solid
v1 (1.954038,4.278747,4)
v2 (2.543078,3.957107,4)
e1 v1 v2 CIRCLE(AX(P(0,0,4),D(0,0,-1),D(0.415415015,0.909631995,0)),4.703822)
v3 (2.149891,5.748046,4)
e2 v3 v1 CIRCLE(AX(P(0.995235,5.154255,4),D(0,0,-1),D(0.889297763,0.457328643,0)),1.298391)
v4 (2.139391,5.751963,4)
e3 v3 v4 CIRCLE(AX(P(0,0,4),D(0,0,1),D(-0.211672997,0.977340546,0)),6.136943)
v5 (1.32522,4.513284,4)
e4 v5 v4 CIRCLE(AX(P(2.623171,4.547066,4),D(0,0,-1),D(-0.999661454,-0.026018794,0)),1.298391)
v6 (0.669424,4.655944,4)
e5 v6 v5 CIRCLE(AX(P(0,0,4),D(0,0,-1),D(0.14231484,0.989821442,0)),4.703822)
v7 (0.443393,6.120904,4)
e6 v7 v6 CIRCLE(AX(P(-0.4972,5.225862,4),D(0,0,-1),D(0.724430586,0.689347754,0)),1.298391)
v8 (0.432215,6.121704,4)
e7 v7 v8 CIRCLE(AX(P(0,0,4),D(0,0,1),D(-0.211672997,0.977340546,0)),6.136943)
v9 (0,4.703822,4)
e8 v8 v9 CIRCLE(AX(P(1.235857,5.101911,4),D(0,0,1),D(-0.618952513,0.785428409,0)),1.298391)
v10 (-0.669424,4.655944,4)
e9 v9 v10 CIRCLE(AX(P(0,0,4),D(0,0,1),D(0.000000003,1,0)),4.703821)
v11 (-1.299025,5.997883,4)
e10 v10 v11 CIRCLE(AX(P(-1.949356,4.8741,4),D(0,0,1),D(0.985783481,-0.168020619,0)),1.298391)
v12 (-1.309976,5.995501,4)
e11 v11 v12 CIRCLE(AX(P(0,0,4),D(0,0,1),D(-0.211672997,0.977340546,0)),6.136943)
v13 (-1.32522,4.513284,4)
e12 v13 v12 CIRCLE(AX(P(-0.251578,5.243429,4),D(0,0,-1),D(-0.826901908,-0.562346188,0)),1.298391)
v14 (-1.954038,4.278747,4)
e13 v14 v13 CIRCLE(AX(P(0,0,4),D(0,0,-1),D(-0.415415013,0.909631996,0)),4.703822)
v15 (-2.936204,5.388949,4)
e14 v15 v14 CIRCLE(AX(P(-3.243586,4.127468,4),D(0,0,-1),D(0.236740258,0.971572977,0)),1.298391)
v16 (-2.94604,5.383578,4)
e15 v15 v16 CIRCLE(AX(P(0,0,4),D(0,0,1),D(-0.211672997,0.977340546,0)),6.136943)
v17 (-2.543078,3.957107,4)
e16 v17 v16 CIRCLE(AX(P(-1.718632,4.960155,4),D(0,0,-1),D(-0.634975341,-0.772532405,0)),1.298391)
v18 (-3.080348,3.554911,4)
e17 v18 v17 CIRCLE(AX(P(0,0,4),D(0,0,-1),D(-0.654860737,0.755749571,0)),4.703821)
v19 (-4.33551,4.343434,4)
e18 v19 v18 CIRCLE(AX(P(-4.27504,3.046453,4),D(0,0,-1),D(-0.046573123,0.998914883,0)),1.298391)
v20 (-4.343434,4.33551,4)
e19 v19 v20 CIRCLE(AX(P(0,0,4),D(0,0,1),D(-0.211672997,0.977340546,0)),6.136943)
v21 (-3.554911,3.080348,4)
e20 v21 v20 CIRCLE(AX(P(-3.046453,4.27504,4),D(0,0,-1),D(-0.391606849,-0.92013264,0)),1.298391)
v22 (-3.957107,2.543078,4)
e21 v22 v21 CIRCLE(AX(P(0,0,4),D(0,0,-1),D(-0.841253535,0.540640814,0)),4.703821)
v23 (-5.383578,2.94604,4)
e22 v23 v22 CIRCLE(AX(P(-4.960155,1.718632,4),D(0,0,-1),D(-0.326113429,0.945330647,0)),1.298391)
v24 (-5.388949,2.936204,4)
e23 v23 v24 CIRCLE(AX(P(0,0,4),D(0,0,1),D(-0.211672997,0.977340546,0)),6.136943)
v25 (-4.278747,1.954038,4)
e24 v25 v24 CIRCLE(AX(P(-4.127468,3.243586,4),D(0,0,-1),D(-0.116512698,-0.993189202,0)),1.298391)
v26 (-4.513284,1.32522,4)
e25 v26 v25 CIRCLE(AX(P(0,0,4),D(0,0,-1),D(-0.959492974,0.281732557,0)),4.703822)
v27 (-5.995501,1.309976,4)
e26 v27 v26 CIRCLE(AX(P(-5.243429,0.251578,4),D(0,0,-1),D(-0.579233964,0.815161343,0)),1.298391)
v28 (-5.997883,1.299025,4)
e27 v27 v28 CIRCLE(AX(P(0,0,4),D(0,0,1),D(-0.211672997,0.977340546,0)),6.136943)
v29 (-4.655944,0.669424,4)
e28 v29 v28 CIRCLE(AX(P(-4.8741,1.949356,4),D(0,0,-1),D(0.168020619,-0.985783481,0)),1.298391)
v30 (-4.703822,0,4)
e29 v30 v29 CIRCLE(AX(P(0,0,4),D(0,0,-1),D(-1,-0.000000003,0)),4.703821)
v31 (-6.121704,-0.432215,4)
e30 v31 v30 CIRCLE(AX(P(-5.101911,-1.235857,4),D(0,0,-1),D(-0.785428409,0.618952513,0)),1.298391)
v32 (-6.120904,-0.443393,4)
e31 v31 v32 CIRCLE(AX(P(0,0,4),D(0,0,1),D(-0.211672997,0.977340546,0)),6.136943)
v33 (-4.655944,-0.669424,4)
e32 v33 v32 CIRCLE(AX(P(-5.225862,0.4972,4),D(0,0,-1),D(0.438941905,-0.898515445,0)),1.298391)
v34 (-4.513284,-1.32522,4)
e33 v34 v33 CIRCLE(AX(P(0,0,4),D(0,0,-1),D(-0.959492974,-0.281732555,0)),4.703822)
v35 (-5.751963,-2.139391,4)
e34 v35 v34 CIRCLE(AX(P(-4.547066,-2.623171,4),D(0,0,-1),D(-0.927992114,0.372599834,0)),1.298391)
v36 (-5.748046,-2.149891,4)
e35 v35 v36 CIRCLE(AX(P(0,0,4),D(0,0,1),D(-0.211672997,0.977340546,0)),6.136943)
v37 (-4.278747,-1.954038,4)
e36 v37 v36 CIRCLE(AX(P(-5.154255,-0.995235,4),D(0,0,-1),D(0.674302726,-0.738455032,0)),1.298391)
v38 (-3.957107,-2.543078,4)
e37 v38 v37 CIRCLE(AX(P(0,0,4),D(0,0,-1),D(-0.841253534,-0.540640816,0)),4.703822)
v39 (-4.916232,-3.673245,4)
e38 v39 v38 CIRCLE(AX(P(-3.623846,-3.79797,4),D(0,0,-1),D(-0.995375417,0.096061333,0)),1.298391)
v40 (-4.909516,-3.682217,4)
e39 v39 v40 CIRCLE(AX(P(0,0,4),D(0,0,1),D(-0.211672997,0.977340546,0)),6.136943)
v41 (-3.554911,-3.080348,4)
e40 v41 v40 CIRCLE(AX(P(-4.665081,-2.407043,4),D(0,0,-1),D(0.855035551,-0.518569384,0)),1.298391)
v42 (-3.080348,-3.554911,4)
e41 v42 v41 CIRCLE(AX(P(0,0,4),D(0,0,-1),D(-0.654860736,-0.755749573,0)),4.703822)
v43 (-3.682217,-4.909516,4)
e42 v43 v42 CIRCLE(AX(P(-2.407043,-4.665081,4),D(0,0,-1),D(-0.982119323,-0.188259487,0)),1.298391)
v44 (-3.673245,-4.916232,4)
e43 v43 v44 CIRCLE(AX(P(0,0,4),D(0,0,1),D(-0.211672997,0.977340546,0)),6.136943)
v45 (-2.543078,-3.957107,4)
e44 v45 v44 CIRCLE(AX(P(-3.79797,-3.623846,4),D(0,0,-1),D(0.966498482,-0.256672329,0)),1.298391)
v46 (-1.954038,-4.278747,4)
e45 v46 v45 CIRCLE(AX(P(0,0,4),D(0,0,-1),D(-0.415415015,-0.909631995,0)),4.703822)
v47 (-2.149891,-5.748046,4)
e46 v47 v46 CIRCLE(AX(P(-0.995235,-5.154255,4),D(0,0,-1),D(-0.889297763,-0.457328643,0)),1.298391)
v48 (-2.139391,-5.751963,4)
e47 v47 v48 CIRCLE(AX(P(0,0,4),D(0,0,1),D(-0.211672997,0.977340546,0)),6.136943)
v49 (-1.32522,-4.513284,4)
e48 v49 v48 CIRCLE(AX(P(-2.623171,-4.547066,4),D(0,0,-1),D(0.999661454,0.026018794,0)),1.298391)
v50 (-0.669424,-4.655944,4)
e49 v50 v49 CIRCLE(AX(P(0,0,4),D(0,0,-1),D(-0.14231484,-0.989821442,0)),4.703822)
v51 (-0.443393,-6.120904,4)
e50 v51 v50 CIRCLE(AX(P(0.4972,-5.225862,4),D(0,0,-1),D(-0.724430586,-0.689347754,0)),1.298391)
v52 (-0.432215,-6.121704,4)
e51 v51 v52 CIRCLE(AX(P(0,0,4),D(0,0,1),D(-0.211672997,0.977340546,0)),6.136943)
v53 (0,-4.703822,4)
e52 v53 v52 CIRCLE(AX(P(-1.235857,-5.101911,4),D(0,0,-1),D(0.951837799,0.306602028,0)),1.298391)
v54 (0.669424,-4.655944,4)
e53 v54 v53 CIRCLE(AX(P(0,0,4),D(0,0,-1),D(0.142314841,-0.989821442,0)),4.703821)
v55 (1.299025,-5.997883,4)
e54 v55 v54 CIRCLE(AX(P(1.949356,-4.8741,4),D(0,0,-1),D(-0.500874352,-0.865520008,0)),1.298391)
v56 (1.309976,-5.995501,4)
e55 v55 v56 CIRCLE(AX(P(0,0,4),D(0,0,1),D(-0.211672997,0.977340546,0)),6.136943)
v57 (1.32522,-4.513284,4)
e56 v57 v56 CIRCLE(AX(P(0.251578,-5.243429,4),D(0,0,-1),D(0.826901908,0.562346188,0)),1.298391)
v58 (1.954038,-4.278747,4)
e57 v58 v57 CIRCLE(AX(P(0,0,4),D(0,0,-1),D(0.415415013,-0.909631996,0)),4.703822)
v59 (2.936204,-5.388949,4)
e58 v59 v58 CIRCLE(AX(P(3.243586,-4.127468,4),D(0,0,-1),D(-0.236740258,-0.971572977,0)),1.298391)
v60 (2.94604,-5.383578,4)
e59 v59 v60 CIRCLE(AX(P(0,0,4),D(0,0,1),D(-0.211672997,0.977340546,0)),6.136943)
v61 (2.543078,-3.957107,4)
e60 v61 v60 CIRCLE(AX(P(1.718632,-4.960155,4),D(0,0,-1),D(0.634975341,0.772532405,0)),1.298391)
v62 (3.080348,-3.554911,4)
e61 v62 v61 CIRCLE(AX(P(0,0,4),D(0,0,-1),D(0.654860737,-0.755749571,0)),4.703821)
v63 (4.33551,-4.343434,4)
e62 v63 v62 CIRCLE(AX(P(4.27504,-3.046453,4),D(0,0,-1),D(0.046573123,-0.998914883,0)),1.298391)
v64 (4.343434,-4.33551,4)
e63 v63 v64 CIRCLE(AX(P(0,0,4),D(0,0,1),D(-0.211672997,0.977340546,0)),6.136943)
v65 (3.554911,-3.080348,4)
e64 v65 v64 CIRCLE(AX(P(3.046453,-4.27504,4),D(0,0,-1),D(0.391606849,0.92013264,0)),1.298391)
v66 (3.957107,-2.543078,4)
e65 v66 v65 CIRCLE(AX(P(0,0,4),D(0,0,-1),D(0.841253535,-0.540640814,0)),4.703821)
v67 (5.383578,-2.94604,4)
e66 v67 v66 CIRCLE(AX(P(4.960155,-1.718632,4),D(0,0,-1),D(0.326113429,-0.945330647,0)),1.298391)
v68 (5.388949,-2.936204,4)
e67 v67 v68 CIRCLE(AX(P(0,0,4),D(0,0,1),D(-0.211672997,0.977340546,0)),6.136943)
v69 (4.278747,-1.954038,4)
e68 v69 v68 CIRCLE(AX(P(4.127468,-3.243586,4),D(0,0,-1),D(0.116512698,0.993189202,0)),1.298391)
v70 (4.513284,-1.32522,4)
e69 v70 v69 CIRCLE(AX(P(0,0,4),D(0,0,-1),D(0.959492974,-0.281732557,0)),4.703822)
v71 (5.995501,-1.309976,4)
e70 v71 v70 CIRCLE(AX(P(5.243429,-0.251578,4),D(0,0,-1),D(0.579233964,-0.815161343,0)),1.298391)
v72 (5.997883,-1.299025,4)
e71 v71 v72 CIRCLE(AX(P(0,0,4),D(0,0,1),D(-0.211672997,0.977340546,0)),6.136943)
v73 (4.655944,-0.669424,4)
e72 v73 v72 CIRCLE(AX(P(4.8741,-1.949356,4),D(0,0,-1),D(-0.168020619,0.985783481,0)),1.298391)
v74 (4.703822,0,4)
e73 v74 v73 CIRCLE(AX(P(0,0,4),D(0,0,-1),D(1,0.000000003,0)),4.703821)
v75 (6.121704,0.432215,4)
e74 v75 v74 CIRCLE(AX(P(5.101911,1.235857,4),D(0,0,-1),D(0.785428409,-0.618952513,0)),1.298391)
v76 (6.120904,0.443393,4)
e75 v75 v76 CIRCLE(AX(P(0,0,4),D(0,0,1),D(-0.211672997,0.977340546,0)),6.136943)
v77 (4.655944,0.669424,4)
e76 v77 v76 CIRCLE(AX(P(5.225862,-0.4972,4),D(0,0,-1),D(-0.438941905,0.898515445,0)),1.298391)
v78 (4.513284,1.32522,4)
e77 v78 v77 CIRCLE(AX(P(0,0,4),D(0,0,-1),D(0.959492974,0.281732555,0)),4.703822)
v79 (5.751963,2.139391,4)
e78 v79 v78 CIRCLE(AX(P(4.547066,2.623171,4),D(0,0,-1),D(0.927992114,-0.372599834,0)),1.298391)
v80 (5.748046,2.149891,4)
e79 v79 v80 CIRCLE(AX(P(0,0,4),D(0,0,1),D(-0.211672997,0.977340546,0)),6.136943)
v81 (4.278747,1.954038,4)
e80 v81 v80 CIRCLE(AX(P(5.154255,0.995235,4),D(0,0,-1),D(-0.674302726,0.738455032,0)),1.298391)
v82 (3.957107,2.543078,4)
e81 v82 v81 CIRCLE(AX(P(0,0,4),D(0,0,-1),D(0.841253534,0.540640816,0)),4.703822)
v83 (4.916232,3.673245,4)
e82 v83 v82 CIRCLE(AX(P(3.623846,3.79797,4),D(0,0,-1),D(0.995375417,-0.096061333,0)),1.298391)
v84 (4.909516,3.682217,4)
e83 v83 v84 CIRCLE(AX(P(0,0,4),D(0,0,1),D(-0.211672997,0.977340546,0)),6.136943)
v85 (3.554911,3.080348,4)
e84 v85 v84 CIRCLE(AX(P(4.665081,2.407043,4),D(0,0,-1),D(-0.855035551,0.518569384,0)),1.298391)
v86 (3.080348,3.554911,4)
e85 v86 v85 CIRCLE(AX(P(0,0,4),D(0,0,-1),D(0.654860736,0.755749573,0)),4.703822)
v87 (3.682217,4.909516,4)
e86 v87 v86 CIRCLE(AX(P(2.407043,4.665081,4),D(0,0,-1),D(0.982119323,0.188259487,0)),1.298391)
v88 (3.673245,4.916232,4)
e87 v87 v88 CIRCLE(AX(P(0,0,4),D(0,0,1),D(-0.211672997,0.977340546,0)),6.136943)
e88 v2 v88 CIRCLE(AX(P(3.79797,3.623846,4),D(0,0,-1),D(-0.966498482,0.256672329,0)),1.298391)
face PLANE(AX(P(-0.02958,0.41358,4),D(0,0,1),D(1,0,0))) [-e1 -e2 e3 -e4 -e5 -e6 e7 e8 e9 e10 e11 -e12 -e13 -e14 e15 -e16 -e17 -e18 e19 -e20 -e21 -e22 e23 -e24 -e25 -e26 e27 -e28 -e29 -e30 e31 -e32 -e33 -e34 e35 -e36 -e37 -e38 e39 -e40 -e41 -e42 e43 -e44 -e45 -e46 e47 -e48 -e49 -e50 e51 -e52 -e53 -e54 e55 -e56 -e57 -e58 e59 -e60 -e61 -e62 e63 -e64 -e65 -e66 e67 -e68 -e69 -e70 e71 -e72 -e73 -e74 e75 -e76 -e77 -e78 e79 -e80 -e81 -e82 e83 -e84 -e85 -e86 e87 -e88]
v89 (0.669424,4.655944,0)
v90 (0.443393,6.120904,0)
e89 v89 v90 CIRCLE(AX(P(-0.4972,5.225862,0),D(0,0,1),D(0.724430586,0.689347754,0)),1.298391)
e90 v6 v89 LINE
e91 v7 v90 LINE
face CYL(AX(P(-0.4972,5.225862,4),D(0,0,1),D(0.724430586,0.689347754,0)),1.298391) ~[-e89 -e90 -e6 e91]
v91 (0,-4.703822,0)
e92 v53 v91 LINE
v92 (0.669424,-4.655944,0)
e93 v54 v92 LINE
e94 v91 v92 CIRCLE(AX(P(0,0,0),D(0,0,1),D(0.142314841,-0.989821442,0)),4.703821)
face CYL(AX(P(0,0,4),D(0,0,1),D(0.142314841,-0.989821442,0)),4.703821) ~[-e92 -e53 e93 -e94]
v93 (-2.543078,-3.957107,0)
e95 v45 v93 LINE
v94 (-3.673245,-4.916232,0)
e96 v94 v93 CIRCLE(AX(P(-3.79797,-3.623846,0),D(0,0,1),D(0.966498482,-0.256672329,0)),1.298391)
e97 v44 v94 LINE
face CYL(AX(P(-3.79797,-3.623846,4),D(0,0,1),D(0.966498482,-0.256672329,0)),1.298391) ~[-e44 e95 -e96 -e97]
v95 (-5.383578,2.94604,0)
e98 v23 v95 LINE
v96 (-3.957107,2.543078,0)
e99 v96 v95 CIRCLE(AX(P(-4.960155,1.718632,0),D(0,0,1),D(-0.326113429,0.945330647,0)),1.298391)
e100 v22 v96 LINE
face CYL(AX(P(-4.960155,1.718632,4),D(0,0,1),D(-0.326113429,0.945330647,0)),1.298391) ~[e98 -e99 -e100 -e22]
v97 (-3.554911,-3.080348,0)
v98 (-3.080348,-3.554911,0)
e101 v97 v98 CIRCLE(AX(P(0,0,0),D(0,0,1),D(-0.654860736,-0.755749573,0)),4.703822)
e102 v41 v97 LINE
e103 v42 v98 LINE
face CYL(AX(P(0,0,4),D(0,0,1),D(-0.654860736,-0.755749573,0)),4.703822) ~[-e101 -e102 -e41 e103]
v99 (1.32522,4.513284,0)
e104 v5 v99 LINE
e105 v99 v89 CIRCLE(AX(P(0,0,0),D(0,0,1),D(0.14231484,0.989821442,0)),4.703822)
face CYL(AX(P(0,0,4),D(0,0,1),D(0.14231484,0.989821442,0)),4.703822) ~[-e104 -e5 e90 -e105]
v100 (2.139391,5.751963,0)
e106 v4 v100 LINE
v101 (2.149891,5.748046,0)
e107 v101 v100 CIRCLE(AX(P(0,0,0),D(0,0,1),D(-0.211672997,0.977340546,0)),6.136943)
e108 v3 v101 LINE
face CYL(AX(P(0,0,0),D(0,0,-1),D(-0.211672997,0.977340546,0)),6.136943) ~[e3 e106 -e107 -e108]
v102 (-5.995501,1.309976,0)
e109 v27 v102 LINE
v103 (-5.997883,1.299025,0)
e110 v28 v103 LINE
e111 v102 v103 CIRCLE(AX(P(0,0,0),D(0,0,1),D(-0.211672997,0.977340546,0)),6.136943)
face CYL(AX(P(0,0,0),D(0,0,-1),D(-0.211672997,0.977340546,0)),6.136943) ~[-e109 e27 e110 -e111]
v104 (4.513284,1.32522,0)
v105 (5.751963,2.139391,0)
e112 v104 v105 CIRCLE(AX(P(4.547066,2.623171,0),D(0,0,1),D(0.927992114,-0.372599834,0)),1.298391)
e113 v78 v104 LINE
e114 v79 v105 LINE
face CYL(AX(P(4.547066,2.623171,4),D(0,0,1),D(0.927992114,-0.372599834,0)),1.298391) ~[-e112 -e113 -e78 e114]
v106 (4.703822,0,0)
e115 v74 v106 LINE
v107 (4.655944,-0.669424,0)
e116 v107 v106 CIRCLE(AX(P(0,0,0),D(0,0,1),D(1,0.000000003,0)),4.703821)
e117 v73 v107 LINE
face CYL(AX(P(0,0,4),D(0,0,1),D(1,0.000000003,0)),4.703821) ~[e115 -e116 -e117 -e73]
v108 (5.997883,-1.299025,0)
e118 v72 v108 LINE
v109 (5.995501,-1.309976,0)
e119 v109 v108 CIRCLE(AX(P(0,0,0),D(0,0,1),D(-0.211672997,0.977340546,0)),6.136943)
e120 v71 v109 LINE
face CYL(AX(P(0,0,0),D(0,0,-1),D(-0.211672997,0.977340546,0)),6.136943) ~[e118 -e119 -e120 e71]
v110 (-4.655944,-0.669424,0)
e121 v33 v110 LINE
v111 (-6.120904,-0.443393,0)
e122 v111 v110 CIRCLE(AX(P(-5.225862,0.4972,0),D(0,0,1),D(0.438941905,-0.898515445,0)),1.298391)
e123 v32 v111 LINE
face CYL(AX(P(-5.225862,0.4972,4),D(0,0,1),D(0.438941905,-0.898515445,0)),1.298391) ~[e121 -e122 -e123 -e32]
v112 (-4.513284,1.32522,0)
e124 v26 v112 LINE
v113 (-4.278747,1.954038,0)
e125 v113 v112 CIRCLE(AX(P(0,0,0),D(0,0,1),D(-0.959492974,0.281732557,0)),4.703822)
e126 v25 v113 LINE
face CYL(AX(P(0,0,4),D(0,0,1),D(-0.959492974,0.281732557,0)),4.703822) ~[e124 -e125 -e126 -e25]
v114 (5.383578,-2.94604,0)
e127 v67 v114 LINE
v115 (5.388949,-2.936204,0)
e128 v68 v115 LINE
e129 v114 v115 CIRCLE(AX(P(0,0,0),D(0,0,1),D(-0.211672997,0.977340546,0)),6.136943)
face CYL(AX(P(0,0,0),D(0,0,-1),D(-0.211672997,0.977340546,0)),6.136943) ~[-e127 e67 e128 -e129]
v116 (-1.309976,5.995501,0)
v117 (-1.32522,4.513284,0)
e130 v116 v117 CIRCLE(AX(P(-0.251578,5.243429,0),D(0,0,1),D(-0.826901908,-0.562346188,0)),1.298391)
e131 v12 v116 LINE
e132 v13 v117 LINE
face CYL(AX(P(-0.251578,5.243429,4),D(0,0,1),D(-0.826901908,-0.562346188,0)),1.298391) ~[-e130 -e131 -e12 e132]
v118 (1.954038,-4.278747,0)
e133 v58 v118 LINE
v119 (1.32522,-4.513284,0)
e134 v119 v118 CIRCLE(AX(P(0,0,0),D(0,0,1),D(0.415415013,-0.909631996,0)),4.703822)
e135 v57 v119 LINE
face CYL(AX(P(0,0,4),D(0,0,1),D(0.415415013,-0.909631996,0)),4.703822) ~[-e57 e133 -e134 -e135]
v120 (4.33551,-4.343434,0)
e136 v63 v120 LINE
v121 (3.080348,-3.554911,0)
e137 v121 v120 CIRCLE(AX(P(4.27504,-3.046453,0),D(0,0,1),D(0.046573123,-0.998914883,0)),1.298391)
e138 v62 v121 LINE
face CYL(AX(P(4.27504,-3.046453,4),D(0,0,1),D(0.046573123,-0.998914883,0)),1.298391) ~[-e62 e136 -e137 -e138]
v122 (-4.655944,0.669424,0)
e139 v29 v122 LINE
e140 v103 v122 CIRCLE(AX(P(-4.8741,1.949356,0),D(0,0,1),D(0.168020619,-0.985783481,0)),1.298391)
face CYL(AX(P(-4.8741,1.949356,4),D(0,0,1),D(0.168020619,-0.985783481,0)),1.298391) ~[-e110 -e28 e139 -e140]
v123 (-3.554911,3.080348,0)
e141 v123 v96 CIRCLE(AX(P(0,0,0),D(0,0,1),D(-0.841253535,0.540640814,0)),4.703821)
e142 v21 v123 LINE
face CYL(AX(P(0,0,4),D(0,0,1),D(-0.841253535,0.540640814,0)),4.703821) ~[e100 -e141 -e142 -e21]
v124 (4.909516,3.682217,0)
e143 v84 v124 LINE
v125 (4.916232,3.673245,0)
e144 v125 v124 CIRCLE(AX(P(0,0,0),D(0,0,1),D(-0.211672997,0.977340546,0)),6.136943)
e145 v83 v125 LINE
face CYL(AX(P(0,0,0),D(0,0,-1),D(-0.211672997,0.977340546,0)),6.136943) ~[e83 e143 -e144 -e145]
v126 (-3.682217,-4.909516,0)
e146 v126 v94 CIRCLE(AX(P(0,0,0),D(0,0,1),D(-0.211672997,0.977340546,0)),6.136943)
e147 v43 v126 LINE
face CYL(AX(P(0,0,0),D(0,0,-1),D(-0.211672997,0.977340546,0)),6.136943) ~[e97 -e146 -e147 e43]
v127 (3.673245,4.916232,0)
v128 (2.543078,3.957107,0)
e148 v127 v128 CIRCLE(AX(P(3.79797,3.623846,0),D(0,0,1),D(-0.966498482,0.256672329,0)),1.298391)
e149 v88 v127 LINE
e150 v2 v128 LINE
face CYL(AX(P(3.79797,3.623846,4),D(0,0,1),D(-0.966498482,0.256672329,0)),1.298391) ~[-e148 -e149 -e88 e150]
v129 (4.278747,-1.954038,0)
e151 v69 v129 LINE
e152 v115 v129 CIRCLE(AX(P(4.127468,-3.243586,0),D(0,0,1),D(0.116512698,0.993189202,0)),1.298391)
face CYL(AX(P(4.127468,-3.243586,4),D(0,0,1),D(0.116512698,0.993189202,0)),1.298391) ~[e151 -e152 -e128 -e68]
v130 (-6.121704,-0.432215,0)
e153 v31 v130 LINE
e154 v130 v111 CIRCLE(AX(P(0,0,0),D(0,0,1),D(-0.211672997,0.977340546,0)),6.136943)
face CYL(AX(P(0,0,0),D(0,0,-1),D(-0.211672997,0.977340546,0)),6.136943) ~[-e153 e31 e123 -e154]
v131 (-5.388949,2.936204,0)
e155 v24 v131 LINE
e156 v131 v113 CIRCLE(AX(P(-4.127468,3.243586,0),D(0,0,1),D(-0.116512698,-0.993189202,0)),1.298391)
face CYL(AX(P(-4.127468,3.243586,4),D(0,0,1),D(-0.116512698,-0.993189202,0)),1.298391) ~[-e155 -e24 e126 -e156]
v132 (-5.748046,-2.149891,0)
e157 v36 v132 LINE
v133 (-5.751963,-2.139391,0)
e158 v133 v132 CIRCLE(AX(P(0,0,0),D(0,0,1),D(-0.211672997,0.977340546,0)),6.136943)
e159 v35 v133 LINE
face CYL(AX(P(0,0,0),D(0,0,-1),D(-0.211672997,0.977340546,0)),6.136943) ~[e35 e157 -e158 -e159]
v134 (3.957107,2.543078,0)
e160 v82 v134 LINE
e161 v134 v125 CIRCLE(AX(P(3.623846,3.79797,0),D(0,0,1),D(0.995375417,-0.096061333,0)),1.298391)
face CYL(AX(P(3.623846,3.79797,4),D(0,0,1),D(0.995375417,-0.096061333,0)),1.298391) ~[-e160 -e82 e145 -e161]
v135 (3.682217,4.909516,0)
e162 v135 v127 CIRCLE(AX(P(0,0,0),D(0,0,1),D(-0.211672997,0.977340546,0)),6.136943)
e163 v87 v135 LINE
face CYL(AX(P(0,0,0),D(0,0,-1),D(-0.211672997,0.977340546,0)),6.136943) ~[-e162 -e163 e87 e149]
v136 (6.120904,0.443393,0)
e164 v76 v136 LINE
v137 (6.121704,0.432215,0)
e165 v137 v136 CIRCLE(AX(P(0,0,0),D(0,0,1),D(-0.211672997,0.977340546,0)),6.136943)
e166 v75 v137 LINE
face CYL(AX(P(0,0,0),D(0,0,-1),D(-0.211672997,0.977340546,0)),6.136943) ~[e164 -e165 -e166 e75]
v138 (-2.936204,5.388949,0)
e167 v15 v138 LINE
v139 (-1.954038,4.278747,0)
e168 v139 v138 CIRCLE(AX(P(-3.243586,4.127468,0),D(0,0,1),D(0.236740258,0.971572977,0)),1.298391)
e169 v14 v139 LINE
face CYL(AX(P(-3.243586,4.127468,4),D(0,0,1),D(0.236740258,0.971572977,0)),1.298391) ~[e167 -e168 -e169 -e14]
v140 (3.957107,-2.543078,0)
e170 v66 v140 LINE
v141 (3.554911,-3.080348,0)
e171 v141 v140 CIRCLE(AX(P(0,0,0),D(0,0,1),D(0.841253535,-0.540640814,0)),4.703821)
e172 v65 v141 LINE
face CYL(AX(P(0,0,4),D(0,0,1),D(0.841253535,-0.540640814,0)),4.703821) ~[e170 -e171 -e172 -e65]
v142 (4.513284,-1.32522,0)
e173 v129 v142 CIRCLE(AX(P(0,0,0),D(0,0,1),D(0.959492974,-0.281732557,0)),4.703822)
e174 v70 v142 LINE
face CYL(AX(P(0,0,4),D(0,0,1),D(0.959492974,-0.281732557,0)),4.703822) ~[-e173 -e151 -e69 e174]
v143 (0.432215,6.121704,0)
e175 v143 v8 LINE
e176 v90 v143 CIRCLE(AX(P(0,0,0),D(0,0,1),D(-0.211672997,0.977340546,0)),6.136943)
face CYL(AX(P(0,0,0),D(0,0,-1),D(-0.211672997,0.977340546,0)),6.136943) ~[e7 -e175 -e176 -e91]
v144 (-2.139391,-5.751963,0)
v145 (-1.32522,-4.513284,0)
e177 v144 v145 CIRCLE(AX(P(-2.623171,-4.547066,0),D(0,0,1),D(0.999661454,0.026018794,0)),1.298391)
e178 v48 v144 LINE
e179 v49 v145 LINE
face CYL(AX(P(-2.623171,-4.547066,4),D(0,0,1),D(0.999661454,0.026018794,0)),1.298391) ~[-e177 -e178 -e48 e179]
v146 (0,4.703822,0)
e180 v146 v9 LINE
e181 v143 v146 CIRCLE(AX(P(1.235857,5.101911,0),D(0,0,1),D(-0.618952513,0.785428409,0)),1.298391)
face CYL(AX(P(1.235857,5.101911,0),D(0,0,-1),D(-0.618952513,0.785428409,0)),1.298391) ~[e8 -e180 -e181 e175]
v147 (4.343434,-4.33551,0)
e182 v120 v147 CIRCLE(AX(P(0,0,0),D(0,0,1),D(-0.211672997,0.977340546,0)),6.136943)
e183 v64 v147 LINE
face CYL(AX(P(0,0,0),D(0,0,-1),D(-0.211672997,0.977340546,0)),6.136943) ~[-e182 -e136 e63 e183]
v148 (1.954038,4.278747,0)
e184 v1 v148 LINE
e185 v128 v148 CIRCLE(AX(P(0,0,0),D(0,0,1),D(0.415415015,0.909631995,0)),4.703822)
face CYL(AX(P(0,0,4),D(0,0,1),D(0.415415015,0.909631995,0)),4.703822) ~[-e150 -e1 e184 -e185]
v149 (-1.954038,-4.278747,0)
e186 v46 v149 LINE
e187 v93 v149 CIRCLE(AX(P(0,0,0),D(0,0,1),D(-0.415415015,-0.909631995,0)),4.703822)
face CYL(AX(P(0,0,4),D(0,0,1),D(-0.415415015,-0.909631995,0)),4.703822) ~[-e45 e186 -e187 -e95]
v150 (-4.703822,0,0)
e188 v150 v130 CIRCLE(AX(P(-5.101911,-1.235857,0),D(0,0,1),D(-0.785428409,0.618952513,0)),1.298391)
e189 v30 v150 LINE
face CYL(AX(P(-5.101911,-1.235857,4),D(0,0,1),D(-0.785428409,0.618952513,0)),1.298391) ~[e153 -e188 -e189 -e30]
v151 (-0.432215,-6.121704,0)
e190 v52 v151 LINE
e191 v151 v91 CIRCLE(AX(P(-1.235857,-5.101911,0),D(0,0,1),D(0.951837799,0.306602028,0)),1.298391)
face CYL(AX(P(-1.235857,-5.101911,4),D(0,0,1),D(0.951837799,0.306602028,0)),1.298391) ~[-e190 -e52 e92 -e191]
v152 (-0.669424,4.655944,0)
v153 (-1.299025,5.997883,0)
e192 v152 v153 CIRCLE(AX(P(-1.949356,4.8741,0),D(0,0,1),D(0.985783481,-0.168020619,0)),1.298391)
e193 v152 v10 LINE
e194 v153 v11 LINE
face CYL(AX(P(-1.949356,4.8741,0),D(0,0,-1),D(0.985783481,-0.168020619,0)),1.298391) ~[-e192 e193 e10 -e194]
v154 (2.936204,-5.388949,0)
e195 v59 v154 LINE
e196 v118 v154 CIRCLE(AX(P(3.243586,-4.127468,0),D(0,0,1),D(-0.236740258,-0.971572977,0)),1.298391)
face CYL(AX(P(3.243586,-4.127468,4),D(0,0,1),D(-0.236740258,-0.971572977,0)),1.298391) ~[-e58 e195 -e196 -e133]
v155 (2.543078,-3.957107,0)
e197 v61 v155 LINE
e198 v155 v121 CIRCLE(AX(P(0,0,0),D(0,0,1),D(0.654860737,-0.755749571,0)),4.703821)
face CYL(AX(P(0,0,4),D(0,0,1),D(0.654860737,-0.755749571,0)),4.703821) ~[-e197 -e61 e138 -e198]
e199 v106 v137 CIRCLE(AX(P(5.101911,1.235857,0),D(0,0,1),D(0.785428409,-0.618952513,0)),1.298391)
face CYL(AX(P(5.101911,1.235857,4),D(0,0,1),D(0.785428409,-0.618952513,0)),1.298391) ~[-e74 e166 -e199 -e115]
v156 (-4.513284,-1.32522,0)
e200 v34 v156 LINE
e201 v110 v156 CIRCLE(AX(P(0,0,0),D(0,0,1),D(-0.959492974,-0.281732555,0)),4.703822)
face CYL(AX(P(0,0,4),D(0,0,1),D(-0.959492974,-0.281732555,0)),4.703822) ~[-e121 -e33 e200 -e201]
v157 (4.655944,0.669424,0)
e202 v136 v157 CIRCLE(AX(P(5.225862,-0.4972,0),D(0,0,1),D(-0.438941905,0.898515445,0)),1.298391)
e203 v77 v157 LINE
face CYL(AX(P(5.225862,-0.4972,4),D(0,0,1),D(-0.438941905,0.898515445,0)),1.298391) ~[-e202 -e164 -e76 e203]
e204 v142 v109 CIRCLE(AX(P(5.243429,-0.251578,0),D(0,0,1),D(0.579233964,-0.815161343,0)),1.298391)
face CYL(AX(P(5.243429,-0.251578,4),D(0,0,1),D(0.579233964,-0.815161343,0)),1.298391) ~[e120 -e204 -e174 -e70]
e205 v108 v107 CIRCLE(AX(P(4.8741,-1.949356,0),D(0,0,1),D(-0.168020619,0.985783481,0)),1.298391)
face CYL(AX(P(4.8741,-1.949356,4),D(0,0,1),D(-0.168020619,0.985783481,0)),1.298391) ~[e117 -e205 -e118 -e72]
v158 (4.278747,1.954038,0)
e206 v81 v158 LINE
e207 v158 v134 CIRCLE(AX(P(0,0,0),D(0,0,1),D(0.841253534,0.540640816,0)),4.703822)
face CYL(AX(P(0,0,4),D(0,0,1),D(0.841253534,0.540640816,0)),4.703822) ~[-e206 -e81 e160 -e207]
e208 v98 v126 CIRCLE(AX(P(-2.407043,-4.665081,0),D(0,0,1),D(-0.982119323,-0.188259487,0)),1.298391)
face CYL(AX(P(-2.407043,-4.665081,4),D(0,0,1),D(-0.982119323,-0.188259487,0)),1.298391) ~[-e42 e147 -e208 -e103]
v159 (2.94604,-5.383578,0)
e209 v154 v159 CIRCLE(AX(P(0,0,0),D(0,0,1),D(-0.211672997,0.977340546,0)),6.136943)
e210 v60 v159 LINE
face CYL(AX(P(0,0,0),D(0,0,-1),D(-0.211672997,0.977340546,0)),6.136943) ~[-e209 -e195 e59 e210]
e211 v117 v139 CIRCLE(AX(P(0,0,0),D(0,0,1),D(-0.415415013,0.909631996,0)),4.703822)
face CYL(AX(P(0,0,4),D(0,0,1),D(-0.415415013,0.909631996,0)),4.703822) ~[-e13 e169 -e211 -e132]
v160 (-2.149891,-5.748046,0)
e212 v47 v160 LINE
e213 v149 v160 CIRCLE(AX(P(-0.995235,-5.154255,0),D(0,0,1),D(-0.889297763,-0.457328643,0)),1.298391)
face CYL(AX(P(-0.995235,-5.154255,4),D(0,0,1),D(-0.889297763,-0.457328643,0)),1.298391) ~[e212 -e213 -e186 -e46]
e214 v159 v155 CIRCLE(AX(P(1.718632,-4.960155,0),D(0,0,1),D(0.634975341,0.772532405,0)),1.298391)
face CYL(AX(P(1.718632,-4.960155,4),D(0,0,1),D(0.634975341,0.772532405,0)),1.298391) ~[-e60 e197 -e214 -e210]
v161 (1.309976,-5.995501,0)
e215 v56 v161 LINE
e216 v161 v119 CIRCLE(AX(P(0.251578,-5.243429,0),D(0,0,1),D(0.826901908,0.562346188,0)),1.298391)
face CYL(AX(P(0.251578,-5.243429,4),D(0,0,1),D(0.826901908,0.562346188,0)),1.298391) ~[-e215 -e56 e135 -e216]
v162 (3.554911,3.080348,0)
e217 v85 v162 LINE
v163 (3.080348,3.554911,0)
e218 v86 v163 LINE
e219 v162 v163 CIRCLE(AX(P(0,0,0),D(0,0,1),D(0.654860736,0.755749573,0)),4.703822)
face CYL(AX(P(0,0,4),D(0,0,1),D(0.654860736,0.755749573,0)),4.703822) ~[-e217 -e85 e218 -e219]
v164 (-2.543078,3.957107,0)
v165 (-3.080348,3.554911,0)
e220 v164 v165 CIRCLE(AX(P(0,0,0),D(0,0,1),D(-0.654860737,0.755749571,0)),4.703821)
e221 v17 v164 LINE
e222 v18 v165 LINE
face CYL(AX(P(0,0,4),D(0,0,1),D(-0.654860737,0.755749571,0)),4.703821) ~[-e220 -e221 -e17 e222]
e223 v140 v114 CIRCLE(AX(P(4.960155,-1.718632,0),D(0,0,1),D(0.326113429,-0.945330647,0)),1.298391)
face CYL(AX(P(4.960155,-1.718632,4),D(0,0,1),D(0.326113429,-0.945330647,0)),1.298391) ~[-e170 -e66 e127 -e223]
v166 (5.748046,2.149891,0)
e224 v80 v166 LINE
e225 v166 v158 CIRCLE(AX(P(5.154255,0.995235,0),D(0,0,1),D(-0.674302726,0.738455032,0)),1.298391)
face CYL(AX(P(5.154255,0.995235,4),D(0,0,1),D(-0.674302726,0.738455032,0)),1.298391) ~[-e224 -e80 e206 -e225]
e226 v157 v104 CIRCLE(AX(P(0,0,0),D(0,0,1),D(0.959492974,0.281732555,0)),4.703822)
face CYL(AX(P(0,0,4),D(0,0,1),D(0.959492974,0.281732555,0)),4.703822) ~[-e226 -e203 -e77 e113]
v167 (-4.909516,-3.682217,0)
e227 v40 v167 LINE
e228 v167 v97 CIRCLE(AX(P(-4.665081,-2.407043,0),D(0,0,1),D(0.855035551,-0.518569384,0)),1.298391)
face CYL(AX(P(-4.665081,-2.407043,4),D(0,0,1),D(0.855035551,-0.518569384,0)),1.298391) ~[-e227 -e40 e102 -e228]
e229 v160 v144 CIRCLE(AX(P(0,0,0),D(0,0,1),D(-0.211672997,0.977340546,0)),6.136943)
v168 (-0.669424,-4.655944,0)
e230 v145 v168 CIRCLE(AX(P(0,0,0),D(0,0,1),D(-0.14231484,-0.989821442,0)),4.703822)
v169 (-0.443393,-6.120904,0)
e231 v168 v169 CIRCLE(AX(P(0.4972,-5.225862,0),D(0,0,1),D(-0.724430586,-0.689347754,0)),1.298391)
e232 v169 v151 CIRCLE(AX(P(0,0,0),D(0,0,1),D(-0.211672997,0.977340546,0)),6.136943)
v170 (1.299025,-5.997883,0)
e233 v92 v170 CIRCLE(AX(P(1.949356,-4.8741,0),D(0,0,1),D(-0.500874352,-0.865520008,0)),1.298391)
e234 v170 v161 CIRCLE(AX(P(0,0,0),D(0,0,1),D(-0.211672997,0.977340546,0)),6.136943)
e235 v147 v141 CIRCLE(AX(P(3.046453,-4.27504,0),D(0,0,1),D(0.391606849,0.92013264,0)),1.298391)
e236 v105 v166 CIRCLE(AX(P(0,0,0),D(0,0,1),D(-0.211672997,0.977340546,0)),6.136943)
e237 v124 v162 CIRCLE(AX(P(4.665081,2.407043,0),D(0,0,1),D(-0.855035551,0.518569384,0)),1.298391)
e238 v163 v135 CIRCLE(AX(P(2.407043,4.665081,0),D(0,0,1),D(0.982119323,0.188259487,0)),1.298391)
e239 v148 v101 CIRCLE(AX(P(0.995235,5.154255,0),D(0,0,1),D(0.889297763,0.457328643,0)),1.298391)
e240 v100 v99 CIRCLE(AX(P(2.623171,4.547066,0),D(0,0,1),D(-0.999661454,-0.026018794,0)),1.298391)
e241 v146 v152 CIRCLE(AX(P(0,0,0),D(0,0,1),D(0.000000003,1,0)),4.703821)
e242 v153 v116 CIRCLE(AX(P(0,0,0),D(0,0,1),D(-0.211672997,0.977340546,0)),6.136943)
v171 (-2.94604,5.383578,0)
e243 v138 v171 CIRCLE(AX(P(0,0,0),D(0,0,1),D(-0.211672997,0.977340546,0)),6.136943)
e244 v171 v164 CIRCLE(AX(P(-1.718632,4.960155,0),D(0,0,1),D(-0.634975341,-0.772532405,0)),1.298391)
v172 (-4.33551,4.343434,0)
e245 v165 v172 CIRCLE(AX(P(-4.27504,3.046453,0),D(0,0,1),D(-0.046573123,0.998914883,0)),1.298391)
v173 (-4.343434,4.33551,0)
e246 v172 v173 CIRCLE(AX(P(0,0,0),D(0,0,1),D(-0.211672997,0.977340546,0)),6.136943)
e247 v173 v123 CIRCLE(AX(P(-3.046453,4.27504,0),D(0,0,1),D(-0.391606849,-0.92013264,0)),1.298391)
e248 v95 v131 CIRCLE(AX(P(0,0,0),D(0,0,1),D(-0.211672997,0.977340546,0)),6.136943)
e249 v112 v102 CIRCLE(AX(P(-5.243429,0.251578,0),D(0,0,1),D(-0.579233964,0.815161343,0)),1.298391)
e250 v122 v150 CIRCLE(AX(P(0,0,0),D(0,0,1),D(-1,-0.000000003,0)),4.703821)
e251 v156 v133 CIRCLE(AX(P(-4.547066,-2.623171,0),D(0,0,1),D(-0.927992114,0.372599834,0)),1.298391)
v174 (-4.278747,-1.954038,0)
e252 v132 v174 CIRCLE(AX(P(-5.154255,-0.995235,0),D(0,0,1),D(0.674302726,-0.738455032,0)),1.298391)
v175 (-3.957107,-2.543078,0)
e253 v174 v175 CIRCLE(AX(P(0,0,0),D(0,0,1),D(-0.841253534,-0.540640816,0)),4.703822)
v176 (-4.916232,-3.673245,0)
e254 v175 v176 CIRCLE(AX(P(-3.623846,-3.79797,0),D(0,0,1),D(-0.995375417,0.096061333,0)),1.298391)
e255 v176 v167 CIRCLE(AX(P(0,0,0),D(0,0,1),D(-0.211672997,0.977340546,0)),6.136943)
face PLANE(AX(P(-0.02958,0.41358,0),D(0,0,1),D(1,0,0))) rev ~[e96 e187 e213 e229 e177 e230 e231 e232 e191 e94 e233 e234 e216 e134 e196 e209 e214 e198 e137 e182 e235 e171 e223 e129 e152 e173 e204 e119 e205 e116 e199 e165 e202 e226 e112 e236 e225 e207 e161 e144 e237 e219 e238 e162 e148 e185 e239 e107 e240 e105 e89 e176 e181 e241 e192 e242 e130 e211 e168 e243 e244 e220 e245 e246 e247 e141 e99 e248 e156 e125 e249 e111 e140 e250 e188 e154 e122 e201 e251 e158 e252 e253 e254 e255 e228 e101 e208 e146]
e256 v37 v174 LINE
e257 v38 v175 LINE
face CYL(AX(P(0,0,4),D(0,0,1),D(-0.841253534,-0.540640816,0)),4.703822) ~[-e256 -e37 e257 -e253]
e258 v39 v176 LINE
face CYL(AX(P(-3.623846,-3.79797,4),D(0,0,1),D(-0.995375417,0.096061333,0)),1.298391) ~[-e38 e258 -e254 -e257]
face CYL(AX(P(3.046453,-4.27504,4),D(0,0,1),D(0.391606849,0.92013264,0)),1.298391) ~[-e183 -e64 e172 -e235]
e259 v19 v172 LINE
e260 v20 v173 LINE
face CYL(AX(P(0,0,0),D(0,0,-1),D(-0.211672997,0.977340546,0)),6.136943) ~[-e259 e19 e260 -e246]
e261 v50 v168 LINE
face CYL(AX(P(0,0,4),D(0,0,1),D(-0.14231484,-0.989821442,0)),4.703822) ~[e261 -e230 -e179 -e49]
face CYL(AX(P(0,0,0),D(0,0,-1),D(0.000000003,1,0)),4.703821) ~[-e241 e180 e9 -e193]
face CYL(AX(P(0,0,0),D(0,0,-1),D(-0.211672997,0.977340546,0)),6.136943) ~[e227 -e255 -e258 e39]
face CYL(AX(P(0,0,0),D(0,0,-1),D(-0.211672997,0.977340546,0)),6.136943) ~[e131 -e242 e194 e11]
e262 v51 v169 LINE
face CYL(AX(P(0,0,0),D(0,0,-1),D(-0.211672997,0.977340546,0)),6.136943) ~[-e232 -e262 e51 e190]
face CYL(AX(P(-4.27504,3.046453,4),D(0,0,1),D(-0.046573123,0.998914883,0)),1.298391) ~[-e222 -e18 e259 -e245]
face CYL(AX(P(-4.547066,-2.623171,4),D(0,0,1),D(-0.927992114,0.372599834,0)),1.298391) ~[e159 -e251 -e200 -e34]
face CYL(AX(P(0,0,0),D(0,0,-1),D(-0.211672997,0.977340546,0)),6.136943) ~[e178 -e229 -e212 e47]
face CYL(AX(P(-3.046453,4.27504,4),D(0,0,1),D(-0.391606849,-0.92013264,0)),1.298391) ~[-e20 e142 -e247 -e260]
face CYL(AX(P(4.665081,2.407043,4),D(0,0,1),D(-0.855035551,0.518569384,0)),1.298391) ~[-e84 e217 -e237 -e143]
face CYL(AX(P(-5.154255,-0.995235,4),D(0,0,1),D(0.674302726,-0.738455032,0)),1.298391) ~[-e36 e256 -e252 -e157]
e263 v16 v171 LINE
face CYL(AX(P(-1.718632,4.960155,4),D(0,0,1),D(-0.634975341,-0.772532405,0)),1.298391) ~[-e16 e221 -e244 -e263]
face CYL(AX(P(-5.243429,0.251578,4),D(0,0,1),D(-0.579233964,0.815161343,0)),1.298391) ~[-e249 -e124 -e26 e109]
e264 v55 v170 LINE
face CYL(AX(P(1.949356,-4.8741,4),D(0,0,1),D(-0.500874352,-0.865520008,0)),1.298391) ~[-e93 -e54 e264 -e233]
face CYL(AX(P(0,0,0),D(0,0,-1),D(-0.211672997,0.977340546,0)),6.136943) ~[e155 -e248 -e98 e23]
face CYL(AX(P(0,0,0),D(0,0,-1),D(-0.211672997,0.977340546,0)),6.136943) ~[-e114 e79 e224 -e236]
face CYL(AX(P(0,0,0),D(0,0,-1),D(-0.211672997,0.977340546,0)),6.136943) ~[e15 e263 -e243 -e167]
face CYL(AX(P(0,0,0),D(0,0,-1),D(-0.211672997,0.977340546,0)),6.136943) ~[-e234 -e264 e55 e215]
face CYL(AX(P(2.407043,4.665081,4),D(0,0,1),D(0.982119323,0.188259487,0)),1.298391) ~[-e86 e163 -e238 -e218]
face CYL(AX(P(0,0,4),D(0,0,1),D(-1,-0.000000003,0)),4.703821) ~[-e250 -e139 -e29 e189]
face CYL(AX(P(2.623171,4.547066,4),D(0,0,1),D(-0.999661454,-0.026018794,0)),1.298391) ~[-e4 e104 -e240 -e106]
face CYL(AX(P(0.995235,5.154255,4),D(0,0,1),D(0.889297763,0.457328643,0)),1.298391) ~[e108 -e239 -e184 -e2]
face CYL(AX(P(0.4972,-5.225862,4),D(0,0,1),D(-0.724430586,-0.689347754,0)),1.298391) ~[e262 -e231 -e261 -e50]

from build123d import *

# Parameters (mm, degrees)
BOSS_EXTRUDE1_DEPTH = 4
CUT_EXTRUDE1_DEPTH  = 10


with BuildPart() as part:
    # Sketch1 → Boss-Extrude1 (new body)
    with BuildSketch(Plane.XY):
        with BuildLine():
            ThreePointArc((0.432215106, 6.121703644), (-0.006111672, 5.480502071), (0, 4.703821656))
            ThreePointArc((0, 4.703821656), (-0.335566795, 4.691836858), (-0.669423618, 4.655943534))
            ThreePointArc((-0.669423618, 4.655943534), (-0.773907302, 5.425588244), (-1.299025043, 5.997882904))
            ThreePointArc((-1.299025043, 5.997882904), (0.437804478, -6.121306449), (0.432215106, 6.121703644))
        make_face()
    extrude(amount=BOSS_EXTRUDE1_DEPTH)

    # Sketch2 → Cut-Extrude1 (cut)
    with BuildSketch(Plane.XY.offset(4)):
        with BuildLine():
            ThreePointArc((-3.554911214, 3.080348102), (-4.145889401, 3.584346716), (-4.343434222, 4.335509723))
            ThreePointArc((-4.343434222, 4.335509723), (-4.912875705, 3.677732686), (-5.383577945, 2.946040378))
            ThreePointArc((-5.383577945, 2.946040378), (-4.60718751, 2.968124585), (-3.957106586, 2.543077985))
            ThreePointArc((-3.957106586, 2.543077985), (-3.765603226, 2.818895266), (-3.554911214, 3.080348102))
        make_face()
        with BuildLine():
            ThreePointArc((-2.543077985, 3.957106586), (-2.968124585, 4.60718751), (-2.946040378, 5.383577945))
            ThreePointArc((-2.946040378, 5.383577945), (-3.677732686, 4.912875705), (-4.335509723, 4.343434222))
            ThreePointArc((-4.335509723, 4.343434222), (-3.584346716, 4.145889401), (-3.080348102, 3.554911214))
            ThreePointArc((-3.080348102, 3.554911214), (-2.818895266, 3.765603226), (-2.543077985, 3.957106586))
        make_face()
        with BuildLine():
            ThreePointArc((-1.325219702, 4.513283828), (-1.549899967, 5.256781372), (-1.309975863, 5.995500699))
            ThreePointArc((-1.309975863, 5.995500699), (-2.144641637, 5.750006752), (-2.936204288, 5.388948857))
            ThreePointArc((-2.936204288, 5.388948857), (-2.271123467, 4.987778915), (-1.954038134, 4.278746679))
            ThreePointArc((-1.954038134, 4.278746679), (-1.643817176, 4.407244407), (-1.325219702, 4.513283828))
        make_face()
        with BuildLine():
            ThreePointArc((2.139390577, 5.751962566), (1.304500997, 5.996694302), (0.443393485, 6.12090415))
            ThreePointArc((0.443393485, 6.12090415), (0.78600623, 5.423848681), (0.669423618, 4.655943534))
            ThreePointArc((0.669423618, 4.655943534), (0.999869212, 4.596324589), (1.325219702, 4.513283828))
            ThreePointArc((1.325219702, 4.513283828), (1.538171755, 5.260225086), (2.139390577, 5.751962566))
        make_face()
        with BuildLine():
            ThreePointArc((3.673245347, 4.916231689), (2.941123559, 5.386265646), (2.14989091, 5.748046144))
            ThreePointArc((2.14989091, 5.748046144), (2.282242211, 4.982701155), (1.954038134, 4.278746679))
            ThreePointArc((1.954038134, 4.278746679), (2.254301762, 4.128445438), (2.543077985, 3.957106586))
            ThreePointArc((2.543077985, 3.957106586), (2.957841655, 4.613795948), (3.673245347, 4.916231689))
        make_face()
        with BuildLine():
            ThreePointArc((4.909515624, 3.682216959), (4.339473781, 4.339473781), (3.682216959, 4.909515624))
            ThreePointArc((3.682216959, 4.909515624), (3.593584502, 4.137884814), (3.080348102, 3.554911214))
            ThreePointArc((3.080348102, 3.554911214), (3.32610419, 3.32610419), (3.554911214, 3.080348102))
            ThreePointArc((3.554911214, 3.080348102), (4.137884814, 3.593584502), (4.909515624, 3.682216959))
        make_face()
        with BuildLine():
            ThreePointArc((5.748046144, 2.14989091), (5.386265646, 2.941123559), (4.916231689, 3.673245347))
            ThreePointArc((4.916231689, 3.673245347), (4.613795948, 2.957841655), (3.957106586, 2.543077985))
            ThreePointArc((3.957106586, 2.543077985), (4.128445438, 2.254301762), (4.278746679, 1.954038134))
            ThreePointArc((4.278746679, 1.954038134), (4.982701155, 2.282242211), (5.748046144, 2.14989091))
        make_face()
        with BuildLine():
            ThreePointArc((6.12090415, 0.443393485), (5.996694302, 1.304500997), (5.751962566, 2.139390577))
            ThreePointArc((5.751962566, 2.139390577), (5.260225086, 1.538171755), (4.513283828, 1.325219702))
            ThreePointArc((4.513283828, 1.325219702), (4.596324589, 0.999869212), (4.655943534, 0.669423618))
            ThreePointArc((4.655943534, 0.669423618), (5.423848681, 0.78600623), (6.12090415, 0.443393485))
        make_face()
        with BuildLine():
            ThreePointArc((5.997882904, -1.299025043), (6.121306449, -0.437804478), (6.121703644, 0.432215106))
            ThreePointArc((6.121703644, 0.432215106), (5.480502071, -0.006111672), (4.703821656, 0))
            ThreePointArc((4.703821656, 0), (4.691836858, -0.335566795), (4.655943534, -0.669423618))
            ThreePointArc((4.655943534, -0.669423618), (5.425588244, -0.773907302), (5.997882904, -1.299025043))
        make_face()
        with BuildLine():
            ThreePointArc((5.388948857, -2.936204288), (5.750006752, -2.144641637), (5.995500699, -1.309975863))
            ThreePointArc((5.995500699, -1.309975863), (5.256781372, -1.549899967), (4.513283828, -1.325219702))
            ThreePointArc((4.513283828, -1.325219702), (4.407244407, -1.643817176), (4.278746679, -1.954038134))
            ThreePointArc((4.278746679, -1.954038134), (4.987778915, -2.271123467), (5.388948857, -2.936204288))
        make_face()
        with BuildLine():
            ThreePointArc((4.343434222, -4.335509723), (4.912875705, -3.677732686), (5.383577945, -2.946040378))
            ThreePointArc((5.383577945, -2.946040378), (4.60718751, -2.968124585), (3.957106586, -2.543077985))
            ThreePointArc((3.957106586, -2.543077985), (3.765603226, -2.818895266), (3.554911214, -3.080348102))
            ThreePointArc((3.554911214, -3.080348102), (4.145889401, -3.584346716), (4.343434222, -4.335509723))
        make_face()
        with BuildLine():
            ThreePointArc((2.946040378, -5.383577945), (3.677732686, -4.912875705), (4.335509723, -4.343434222))
            ThreePointArc((4.335509723, -4.343434222), (3.584346716, -4.145889401), (3.080348102, -3.554911214))
            ThreePointArc((3.080348102, -3.554911214), (2.818895266, -3.765603226), (2.543077985, -3.957106586))
            ThreePointArc((2.543077985, -3.957106586), (2.968124585, -4.60718751), (2.946040378, -5.383577945))
        make_face()
        with BuildLine():
            ThreePointArc((1.309975863, -5.995500699), (2.144641637, -5.750006752), (2.936204288, -5.388948857))
            ThreePointArc((2.936204288, -5.388948857), (2.271123467, -4.987778915), (1.954038134, -4.278746679))
            ThreePointArc((1.954038134, -4.278746679), (1.643817176, -4.407244407), (1.325219702, -4.513283828))
            ThreePointArc((1.325219702, -4.513283828), (1.549899967, -5.256781372), (1.309975863, -5.995500699))
        make_face()
        with BuildLine():
            ThreePointArc((0, -4.703821656), (0.006111672, -5.480502071), (-0.432215106, -6.121703644))
            ThreePointArc((-0.432215106, -6.121703644), (0.437804478, -6.121306449), (1.299025043, -5.997882904))
            ThreePointArc((1.299025043, -5.997882904), (0.773907302, -5.425588244), (0.669423618, -4.655943534))
            ThreePointArc((0.669423618, -4.655943534), (0.335566795, -4.691836858), (0, -4.703821656))
        make_face()
        with BuildLine():
            ThreePointArc((-1.325219702, -4.513283828), (-1.538171755, -5.260225086), (-2.139390577, -5.751962566))
            ThreePointArc((-2.139390577, -5.751962566), (-1.304500997, -5.996694302), (-0.443393485, -6.12090415))
            ThreePointArc((-0.443393485, -6.12090415), (-0.78600623, -5.423848681), (-0.669423618, -4.655943534))
            ThreePointArc((-0.669423618, -4.655943534), (-0.999869212, -4.596324589), (-1.325219702, -4.513283828))
        make_face()
        with BuildLine():
            ThreePointArc((-2.543077985, -3.957106586), (-2.957841655, -4.613795948), (-3.673245347, -4.916231689))
            ThreePointArc((-3.673245347, -4.916231689), (-2.941123559, -5.386265646), (-2.14989091, -5.748046144))
            ThreePointArc((-2.14989091, -5.748046144), (-2.282242211, -4.982701155), (-1.954038134, -4.278746679))
            ThreePointArc((-1.954038134, -4.278746679), (-2.254301762, -4.128445438), (-2.543077985, -3.957106586))
        make_face()
        with BuildLine():
            ThreePointArc((-3.554911214, -3.080348102), (-4.137884814, -3.593584502), (-4.909515624, -3.682216959))
            ThreePointArc((-4.909515624, -3.682216959), (-4.339473781, -4.339473781), (-3.682216959, -4.909515624))
            ThreePointArc((-3.682216959, -4.909515624), (-3.593584502, -4.137884814), (-3.080348102, -3.554911214))
            ThreePointArc((-3.080348102, -3.554911214), (-3.32610419, -3.32610419), (-3.554911214, -3.080348102))
        make_face()
        with BuildLine():
            ThreePointArc((-4.278746679, -1.954038134), (-4.982701155, -2.282242211), (-5.748046144, -2.14989091))
            ThreePointArc((-5.748046144, -2.14989091), (-5.386265646, -2.941123559), (-4.916231689, -3.673245347))
            ThreePointArc((-4.916231689, -3.673245347), (-4.613795948, -2.957841655), (-3.957106586, -2.543077985))
            ThreePointArc((-3.957106586, -2.543077985), (-4.128445438, -2.254301762), (-4.278746679, -1.954038134))
        make_face()
        with BuildLine():
            ThreePointArc((-4.655943534, -0.669423618), (-5.423848681, -0.78600623), (-6.12090415, -0.443393485))
            ThreePointArc((-6.12090415, -0.443393485), (-5.996694302, -1.304500997), (-5.751962566, -2.139390577))
            ThreePointArc((-5.751962566, -2.139390577), (-5.260225086, -1.538171755), (-4.513283828, -1.325219702))
            ThreePointArc((-4.513283828, -1.325219702), (-4.596324589, -0.999869212), (-4.655943534, -0.669423618))
        make_face()
        with BuildLine():
            ThreePointArc((-4.655943534, 0.669423618), (-5.425588244, 0.773907302), (-5.997882904, 1.299025043))
            ThreePointArc((-5.997882904, 1.299025043), (-6.121306449, 0.437804478), (-6.121703644, -0.432215106))
            ThreePointArc((-6.121703644, -0.432215106), (-5.480502071, 0.006111672), (-4.703821656, 0))
            ThreePointArc((-4.703821656, 0), (-4.691836858, 0.335566795), (-4.655943534, 0.669423618))
        make_face()
        with BuildLine():
            ThreePointArc((-4.278746679, 1.954038134), (-4.987778915, 2.271123467), (-5.388948857, 2.936204288))
            ThreePointArc((-5.388948857, 2.936204288), (-5.750006752, 2.144641637), (-5.995500699, 1.309975863))
            ThreePointArc((-5.995500699, 1.309975863), (-5.256781372, 1.549899967), (-4.513283828, 1.325219702))
            ThreePointArc((-4.513283828, 1.325219702), (-4.407244407, 1.643817176), (-4.278746679, 1.954038134))
        make_face()
    extrude(amount=-CUT_EXTRUDE1_DEPTH, mode=Mode.SUBTRACT)


solid = part.part
